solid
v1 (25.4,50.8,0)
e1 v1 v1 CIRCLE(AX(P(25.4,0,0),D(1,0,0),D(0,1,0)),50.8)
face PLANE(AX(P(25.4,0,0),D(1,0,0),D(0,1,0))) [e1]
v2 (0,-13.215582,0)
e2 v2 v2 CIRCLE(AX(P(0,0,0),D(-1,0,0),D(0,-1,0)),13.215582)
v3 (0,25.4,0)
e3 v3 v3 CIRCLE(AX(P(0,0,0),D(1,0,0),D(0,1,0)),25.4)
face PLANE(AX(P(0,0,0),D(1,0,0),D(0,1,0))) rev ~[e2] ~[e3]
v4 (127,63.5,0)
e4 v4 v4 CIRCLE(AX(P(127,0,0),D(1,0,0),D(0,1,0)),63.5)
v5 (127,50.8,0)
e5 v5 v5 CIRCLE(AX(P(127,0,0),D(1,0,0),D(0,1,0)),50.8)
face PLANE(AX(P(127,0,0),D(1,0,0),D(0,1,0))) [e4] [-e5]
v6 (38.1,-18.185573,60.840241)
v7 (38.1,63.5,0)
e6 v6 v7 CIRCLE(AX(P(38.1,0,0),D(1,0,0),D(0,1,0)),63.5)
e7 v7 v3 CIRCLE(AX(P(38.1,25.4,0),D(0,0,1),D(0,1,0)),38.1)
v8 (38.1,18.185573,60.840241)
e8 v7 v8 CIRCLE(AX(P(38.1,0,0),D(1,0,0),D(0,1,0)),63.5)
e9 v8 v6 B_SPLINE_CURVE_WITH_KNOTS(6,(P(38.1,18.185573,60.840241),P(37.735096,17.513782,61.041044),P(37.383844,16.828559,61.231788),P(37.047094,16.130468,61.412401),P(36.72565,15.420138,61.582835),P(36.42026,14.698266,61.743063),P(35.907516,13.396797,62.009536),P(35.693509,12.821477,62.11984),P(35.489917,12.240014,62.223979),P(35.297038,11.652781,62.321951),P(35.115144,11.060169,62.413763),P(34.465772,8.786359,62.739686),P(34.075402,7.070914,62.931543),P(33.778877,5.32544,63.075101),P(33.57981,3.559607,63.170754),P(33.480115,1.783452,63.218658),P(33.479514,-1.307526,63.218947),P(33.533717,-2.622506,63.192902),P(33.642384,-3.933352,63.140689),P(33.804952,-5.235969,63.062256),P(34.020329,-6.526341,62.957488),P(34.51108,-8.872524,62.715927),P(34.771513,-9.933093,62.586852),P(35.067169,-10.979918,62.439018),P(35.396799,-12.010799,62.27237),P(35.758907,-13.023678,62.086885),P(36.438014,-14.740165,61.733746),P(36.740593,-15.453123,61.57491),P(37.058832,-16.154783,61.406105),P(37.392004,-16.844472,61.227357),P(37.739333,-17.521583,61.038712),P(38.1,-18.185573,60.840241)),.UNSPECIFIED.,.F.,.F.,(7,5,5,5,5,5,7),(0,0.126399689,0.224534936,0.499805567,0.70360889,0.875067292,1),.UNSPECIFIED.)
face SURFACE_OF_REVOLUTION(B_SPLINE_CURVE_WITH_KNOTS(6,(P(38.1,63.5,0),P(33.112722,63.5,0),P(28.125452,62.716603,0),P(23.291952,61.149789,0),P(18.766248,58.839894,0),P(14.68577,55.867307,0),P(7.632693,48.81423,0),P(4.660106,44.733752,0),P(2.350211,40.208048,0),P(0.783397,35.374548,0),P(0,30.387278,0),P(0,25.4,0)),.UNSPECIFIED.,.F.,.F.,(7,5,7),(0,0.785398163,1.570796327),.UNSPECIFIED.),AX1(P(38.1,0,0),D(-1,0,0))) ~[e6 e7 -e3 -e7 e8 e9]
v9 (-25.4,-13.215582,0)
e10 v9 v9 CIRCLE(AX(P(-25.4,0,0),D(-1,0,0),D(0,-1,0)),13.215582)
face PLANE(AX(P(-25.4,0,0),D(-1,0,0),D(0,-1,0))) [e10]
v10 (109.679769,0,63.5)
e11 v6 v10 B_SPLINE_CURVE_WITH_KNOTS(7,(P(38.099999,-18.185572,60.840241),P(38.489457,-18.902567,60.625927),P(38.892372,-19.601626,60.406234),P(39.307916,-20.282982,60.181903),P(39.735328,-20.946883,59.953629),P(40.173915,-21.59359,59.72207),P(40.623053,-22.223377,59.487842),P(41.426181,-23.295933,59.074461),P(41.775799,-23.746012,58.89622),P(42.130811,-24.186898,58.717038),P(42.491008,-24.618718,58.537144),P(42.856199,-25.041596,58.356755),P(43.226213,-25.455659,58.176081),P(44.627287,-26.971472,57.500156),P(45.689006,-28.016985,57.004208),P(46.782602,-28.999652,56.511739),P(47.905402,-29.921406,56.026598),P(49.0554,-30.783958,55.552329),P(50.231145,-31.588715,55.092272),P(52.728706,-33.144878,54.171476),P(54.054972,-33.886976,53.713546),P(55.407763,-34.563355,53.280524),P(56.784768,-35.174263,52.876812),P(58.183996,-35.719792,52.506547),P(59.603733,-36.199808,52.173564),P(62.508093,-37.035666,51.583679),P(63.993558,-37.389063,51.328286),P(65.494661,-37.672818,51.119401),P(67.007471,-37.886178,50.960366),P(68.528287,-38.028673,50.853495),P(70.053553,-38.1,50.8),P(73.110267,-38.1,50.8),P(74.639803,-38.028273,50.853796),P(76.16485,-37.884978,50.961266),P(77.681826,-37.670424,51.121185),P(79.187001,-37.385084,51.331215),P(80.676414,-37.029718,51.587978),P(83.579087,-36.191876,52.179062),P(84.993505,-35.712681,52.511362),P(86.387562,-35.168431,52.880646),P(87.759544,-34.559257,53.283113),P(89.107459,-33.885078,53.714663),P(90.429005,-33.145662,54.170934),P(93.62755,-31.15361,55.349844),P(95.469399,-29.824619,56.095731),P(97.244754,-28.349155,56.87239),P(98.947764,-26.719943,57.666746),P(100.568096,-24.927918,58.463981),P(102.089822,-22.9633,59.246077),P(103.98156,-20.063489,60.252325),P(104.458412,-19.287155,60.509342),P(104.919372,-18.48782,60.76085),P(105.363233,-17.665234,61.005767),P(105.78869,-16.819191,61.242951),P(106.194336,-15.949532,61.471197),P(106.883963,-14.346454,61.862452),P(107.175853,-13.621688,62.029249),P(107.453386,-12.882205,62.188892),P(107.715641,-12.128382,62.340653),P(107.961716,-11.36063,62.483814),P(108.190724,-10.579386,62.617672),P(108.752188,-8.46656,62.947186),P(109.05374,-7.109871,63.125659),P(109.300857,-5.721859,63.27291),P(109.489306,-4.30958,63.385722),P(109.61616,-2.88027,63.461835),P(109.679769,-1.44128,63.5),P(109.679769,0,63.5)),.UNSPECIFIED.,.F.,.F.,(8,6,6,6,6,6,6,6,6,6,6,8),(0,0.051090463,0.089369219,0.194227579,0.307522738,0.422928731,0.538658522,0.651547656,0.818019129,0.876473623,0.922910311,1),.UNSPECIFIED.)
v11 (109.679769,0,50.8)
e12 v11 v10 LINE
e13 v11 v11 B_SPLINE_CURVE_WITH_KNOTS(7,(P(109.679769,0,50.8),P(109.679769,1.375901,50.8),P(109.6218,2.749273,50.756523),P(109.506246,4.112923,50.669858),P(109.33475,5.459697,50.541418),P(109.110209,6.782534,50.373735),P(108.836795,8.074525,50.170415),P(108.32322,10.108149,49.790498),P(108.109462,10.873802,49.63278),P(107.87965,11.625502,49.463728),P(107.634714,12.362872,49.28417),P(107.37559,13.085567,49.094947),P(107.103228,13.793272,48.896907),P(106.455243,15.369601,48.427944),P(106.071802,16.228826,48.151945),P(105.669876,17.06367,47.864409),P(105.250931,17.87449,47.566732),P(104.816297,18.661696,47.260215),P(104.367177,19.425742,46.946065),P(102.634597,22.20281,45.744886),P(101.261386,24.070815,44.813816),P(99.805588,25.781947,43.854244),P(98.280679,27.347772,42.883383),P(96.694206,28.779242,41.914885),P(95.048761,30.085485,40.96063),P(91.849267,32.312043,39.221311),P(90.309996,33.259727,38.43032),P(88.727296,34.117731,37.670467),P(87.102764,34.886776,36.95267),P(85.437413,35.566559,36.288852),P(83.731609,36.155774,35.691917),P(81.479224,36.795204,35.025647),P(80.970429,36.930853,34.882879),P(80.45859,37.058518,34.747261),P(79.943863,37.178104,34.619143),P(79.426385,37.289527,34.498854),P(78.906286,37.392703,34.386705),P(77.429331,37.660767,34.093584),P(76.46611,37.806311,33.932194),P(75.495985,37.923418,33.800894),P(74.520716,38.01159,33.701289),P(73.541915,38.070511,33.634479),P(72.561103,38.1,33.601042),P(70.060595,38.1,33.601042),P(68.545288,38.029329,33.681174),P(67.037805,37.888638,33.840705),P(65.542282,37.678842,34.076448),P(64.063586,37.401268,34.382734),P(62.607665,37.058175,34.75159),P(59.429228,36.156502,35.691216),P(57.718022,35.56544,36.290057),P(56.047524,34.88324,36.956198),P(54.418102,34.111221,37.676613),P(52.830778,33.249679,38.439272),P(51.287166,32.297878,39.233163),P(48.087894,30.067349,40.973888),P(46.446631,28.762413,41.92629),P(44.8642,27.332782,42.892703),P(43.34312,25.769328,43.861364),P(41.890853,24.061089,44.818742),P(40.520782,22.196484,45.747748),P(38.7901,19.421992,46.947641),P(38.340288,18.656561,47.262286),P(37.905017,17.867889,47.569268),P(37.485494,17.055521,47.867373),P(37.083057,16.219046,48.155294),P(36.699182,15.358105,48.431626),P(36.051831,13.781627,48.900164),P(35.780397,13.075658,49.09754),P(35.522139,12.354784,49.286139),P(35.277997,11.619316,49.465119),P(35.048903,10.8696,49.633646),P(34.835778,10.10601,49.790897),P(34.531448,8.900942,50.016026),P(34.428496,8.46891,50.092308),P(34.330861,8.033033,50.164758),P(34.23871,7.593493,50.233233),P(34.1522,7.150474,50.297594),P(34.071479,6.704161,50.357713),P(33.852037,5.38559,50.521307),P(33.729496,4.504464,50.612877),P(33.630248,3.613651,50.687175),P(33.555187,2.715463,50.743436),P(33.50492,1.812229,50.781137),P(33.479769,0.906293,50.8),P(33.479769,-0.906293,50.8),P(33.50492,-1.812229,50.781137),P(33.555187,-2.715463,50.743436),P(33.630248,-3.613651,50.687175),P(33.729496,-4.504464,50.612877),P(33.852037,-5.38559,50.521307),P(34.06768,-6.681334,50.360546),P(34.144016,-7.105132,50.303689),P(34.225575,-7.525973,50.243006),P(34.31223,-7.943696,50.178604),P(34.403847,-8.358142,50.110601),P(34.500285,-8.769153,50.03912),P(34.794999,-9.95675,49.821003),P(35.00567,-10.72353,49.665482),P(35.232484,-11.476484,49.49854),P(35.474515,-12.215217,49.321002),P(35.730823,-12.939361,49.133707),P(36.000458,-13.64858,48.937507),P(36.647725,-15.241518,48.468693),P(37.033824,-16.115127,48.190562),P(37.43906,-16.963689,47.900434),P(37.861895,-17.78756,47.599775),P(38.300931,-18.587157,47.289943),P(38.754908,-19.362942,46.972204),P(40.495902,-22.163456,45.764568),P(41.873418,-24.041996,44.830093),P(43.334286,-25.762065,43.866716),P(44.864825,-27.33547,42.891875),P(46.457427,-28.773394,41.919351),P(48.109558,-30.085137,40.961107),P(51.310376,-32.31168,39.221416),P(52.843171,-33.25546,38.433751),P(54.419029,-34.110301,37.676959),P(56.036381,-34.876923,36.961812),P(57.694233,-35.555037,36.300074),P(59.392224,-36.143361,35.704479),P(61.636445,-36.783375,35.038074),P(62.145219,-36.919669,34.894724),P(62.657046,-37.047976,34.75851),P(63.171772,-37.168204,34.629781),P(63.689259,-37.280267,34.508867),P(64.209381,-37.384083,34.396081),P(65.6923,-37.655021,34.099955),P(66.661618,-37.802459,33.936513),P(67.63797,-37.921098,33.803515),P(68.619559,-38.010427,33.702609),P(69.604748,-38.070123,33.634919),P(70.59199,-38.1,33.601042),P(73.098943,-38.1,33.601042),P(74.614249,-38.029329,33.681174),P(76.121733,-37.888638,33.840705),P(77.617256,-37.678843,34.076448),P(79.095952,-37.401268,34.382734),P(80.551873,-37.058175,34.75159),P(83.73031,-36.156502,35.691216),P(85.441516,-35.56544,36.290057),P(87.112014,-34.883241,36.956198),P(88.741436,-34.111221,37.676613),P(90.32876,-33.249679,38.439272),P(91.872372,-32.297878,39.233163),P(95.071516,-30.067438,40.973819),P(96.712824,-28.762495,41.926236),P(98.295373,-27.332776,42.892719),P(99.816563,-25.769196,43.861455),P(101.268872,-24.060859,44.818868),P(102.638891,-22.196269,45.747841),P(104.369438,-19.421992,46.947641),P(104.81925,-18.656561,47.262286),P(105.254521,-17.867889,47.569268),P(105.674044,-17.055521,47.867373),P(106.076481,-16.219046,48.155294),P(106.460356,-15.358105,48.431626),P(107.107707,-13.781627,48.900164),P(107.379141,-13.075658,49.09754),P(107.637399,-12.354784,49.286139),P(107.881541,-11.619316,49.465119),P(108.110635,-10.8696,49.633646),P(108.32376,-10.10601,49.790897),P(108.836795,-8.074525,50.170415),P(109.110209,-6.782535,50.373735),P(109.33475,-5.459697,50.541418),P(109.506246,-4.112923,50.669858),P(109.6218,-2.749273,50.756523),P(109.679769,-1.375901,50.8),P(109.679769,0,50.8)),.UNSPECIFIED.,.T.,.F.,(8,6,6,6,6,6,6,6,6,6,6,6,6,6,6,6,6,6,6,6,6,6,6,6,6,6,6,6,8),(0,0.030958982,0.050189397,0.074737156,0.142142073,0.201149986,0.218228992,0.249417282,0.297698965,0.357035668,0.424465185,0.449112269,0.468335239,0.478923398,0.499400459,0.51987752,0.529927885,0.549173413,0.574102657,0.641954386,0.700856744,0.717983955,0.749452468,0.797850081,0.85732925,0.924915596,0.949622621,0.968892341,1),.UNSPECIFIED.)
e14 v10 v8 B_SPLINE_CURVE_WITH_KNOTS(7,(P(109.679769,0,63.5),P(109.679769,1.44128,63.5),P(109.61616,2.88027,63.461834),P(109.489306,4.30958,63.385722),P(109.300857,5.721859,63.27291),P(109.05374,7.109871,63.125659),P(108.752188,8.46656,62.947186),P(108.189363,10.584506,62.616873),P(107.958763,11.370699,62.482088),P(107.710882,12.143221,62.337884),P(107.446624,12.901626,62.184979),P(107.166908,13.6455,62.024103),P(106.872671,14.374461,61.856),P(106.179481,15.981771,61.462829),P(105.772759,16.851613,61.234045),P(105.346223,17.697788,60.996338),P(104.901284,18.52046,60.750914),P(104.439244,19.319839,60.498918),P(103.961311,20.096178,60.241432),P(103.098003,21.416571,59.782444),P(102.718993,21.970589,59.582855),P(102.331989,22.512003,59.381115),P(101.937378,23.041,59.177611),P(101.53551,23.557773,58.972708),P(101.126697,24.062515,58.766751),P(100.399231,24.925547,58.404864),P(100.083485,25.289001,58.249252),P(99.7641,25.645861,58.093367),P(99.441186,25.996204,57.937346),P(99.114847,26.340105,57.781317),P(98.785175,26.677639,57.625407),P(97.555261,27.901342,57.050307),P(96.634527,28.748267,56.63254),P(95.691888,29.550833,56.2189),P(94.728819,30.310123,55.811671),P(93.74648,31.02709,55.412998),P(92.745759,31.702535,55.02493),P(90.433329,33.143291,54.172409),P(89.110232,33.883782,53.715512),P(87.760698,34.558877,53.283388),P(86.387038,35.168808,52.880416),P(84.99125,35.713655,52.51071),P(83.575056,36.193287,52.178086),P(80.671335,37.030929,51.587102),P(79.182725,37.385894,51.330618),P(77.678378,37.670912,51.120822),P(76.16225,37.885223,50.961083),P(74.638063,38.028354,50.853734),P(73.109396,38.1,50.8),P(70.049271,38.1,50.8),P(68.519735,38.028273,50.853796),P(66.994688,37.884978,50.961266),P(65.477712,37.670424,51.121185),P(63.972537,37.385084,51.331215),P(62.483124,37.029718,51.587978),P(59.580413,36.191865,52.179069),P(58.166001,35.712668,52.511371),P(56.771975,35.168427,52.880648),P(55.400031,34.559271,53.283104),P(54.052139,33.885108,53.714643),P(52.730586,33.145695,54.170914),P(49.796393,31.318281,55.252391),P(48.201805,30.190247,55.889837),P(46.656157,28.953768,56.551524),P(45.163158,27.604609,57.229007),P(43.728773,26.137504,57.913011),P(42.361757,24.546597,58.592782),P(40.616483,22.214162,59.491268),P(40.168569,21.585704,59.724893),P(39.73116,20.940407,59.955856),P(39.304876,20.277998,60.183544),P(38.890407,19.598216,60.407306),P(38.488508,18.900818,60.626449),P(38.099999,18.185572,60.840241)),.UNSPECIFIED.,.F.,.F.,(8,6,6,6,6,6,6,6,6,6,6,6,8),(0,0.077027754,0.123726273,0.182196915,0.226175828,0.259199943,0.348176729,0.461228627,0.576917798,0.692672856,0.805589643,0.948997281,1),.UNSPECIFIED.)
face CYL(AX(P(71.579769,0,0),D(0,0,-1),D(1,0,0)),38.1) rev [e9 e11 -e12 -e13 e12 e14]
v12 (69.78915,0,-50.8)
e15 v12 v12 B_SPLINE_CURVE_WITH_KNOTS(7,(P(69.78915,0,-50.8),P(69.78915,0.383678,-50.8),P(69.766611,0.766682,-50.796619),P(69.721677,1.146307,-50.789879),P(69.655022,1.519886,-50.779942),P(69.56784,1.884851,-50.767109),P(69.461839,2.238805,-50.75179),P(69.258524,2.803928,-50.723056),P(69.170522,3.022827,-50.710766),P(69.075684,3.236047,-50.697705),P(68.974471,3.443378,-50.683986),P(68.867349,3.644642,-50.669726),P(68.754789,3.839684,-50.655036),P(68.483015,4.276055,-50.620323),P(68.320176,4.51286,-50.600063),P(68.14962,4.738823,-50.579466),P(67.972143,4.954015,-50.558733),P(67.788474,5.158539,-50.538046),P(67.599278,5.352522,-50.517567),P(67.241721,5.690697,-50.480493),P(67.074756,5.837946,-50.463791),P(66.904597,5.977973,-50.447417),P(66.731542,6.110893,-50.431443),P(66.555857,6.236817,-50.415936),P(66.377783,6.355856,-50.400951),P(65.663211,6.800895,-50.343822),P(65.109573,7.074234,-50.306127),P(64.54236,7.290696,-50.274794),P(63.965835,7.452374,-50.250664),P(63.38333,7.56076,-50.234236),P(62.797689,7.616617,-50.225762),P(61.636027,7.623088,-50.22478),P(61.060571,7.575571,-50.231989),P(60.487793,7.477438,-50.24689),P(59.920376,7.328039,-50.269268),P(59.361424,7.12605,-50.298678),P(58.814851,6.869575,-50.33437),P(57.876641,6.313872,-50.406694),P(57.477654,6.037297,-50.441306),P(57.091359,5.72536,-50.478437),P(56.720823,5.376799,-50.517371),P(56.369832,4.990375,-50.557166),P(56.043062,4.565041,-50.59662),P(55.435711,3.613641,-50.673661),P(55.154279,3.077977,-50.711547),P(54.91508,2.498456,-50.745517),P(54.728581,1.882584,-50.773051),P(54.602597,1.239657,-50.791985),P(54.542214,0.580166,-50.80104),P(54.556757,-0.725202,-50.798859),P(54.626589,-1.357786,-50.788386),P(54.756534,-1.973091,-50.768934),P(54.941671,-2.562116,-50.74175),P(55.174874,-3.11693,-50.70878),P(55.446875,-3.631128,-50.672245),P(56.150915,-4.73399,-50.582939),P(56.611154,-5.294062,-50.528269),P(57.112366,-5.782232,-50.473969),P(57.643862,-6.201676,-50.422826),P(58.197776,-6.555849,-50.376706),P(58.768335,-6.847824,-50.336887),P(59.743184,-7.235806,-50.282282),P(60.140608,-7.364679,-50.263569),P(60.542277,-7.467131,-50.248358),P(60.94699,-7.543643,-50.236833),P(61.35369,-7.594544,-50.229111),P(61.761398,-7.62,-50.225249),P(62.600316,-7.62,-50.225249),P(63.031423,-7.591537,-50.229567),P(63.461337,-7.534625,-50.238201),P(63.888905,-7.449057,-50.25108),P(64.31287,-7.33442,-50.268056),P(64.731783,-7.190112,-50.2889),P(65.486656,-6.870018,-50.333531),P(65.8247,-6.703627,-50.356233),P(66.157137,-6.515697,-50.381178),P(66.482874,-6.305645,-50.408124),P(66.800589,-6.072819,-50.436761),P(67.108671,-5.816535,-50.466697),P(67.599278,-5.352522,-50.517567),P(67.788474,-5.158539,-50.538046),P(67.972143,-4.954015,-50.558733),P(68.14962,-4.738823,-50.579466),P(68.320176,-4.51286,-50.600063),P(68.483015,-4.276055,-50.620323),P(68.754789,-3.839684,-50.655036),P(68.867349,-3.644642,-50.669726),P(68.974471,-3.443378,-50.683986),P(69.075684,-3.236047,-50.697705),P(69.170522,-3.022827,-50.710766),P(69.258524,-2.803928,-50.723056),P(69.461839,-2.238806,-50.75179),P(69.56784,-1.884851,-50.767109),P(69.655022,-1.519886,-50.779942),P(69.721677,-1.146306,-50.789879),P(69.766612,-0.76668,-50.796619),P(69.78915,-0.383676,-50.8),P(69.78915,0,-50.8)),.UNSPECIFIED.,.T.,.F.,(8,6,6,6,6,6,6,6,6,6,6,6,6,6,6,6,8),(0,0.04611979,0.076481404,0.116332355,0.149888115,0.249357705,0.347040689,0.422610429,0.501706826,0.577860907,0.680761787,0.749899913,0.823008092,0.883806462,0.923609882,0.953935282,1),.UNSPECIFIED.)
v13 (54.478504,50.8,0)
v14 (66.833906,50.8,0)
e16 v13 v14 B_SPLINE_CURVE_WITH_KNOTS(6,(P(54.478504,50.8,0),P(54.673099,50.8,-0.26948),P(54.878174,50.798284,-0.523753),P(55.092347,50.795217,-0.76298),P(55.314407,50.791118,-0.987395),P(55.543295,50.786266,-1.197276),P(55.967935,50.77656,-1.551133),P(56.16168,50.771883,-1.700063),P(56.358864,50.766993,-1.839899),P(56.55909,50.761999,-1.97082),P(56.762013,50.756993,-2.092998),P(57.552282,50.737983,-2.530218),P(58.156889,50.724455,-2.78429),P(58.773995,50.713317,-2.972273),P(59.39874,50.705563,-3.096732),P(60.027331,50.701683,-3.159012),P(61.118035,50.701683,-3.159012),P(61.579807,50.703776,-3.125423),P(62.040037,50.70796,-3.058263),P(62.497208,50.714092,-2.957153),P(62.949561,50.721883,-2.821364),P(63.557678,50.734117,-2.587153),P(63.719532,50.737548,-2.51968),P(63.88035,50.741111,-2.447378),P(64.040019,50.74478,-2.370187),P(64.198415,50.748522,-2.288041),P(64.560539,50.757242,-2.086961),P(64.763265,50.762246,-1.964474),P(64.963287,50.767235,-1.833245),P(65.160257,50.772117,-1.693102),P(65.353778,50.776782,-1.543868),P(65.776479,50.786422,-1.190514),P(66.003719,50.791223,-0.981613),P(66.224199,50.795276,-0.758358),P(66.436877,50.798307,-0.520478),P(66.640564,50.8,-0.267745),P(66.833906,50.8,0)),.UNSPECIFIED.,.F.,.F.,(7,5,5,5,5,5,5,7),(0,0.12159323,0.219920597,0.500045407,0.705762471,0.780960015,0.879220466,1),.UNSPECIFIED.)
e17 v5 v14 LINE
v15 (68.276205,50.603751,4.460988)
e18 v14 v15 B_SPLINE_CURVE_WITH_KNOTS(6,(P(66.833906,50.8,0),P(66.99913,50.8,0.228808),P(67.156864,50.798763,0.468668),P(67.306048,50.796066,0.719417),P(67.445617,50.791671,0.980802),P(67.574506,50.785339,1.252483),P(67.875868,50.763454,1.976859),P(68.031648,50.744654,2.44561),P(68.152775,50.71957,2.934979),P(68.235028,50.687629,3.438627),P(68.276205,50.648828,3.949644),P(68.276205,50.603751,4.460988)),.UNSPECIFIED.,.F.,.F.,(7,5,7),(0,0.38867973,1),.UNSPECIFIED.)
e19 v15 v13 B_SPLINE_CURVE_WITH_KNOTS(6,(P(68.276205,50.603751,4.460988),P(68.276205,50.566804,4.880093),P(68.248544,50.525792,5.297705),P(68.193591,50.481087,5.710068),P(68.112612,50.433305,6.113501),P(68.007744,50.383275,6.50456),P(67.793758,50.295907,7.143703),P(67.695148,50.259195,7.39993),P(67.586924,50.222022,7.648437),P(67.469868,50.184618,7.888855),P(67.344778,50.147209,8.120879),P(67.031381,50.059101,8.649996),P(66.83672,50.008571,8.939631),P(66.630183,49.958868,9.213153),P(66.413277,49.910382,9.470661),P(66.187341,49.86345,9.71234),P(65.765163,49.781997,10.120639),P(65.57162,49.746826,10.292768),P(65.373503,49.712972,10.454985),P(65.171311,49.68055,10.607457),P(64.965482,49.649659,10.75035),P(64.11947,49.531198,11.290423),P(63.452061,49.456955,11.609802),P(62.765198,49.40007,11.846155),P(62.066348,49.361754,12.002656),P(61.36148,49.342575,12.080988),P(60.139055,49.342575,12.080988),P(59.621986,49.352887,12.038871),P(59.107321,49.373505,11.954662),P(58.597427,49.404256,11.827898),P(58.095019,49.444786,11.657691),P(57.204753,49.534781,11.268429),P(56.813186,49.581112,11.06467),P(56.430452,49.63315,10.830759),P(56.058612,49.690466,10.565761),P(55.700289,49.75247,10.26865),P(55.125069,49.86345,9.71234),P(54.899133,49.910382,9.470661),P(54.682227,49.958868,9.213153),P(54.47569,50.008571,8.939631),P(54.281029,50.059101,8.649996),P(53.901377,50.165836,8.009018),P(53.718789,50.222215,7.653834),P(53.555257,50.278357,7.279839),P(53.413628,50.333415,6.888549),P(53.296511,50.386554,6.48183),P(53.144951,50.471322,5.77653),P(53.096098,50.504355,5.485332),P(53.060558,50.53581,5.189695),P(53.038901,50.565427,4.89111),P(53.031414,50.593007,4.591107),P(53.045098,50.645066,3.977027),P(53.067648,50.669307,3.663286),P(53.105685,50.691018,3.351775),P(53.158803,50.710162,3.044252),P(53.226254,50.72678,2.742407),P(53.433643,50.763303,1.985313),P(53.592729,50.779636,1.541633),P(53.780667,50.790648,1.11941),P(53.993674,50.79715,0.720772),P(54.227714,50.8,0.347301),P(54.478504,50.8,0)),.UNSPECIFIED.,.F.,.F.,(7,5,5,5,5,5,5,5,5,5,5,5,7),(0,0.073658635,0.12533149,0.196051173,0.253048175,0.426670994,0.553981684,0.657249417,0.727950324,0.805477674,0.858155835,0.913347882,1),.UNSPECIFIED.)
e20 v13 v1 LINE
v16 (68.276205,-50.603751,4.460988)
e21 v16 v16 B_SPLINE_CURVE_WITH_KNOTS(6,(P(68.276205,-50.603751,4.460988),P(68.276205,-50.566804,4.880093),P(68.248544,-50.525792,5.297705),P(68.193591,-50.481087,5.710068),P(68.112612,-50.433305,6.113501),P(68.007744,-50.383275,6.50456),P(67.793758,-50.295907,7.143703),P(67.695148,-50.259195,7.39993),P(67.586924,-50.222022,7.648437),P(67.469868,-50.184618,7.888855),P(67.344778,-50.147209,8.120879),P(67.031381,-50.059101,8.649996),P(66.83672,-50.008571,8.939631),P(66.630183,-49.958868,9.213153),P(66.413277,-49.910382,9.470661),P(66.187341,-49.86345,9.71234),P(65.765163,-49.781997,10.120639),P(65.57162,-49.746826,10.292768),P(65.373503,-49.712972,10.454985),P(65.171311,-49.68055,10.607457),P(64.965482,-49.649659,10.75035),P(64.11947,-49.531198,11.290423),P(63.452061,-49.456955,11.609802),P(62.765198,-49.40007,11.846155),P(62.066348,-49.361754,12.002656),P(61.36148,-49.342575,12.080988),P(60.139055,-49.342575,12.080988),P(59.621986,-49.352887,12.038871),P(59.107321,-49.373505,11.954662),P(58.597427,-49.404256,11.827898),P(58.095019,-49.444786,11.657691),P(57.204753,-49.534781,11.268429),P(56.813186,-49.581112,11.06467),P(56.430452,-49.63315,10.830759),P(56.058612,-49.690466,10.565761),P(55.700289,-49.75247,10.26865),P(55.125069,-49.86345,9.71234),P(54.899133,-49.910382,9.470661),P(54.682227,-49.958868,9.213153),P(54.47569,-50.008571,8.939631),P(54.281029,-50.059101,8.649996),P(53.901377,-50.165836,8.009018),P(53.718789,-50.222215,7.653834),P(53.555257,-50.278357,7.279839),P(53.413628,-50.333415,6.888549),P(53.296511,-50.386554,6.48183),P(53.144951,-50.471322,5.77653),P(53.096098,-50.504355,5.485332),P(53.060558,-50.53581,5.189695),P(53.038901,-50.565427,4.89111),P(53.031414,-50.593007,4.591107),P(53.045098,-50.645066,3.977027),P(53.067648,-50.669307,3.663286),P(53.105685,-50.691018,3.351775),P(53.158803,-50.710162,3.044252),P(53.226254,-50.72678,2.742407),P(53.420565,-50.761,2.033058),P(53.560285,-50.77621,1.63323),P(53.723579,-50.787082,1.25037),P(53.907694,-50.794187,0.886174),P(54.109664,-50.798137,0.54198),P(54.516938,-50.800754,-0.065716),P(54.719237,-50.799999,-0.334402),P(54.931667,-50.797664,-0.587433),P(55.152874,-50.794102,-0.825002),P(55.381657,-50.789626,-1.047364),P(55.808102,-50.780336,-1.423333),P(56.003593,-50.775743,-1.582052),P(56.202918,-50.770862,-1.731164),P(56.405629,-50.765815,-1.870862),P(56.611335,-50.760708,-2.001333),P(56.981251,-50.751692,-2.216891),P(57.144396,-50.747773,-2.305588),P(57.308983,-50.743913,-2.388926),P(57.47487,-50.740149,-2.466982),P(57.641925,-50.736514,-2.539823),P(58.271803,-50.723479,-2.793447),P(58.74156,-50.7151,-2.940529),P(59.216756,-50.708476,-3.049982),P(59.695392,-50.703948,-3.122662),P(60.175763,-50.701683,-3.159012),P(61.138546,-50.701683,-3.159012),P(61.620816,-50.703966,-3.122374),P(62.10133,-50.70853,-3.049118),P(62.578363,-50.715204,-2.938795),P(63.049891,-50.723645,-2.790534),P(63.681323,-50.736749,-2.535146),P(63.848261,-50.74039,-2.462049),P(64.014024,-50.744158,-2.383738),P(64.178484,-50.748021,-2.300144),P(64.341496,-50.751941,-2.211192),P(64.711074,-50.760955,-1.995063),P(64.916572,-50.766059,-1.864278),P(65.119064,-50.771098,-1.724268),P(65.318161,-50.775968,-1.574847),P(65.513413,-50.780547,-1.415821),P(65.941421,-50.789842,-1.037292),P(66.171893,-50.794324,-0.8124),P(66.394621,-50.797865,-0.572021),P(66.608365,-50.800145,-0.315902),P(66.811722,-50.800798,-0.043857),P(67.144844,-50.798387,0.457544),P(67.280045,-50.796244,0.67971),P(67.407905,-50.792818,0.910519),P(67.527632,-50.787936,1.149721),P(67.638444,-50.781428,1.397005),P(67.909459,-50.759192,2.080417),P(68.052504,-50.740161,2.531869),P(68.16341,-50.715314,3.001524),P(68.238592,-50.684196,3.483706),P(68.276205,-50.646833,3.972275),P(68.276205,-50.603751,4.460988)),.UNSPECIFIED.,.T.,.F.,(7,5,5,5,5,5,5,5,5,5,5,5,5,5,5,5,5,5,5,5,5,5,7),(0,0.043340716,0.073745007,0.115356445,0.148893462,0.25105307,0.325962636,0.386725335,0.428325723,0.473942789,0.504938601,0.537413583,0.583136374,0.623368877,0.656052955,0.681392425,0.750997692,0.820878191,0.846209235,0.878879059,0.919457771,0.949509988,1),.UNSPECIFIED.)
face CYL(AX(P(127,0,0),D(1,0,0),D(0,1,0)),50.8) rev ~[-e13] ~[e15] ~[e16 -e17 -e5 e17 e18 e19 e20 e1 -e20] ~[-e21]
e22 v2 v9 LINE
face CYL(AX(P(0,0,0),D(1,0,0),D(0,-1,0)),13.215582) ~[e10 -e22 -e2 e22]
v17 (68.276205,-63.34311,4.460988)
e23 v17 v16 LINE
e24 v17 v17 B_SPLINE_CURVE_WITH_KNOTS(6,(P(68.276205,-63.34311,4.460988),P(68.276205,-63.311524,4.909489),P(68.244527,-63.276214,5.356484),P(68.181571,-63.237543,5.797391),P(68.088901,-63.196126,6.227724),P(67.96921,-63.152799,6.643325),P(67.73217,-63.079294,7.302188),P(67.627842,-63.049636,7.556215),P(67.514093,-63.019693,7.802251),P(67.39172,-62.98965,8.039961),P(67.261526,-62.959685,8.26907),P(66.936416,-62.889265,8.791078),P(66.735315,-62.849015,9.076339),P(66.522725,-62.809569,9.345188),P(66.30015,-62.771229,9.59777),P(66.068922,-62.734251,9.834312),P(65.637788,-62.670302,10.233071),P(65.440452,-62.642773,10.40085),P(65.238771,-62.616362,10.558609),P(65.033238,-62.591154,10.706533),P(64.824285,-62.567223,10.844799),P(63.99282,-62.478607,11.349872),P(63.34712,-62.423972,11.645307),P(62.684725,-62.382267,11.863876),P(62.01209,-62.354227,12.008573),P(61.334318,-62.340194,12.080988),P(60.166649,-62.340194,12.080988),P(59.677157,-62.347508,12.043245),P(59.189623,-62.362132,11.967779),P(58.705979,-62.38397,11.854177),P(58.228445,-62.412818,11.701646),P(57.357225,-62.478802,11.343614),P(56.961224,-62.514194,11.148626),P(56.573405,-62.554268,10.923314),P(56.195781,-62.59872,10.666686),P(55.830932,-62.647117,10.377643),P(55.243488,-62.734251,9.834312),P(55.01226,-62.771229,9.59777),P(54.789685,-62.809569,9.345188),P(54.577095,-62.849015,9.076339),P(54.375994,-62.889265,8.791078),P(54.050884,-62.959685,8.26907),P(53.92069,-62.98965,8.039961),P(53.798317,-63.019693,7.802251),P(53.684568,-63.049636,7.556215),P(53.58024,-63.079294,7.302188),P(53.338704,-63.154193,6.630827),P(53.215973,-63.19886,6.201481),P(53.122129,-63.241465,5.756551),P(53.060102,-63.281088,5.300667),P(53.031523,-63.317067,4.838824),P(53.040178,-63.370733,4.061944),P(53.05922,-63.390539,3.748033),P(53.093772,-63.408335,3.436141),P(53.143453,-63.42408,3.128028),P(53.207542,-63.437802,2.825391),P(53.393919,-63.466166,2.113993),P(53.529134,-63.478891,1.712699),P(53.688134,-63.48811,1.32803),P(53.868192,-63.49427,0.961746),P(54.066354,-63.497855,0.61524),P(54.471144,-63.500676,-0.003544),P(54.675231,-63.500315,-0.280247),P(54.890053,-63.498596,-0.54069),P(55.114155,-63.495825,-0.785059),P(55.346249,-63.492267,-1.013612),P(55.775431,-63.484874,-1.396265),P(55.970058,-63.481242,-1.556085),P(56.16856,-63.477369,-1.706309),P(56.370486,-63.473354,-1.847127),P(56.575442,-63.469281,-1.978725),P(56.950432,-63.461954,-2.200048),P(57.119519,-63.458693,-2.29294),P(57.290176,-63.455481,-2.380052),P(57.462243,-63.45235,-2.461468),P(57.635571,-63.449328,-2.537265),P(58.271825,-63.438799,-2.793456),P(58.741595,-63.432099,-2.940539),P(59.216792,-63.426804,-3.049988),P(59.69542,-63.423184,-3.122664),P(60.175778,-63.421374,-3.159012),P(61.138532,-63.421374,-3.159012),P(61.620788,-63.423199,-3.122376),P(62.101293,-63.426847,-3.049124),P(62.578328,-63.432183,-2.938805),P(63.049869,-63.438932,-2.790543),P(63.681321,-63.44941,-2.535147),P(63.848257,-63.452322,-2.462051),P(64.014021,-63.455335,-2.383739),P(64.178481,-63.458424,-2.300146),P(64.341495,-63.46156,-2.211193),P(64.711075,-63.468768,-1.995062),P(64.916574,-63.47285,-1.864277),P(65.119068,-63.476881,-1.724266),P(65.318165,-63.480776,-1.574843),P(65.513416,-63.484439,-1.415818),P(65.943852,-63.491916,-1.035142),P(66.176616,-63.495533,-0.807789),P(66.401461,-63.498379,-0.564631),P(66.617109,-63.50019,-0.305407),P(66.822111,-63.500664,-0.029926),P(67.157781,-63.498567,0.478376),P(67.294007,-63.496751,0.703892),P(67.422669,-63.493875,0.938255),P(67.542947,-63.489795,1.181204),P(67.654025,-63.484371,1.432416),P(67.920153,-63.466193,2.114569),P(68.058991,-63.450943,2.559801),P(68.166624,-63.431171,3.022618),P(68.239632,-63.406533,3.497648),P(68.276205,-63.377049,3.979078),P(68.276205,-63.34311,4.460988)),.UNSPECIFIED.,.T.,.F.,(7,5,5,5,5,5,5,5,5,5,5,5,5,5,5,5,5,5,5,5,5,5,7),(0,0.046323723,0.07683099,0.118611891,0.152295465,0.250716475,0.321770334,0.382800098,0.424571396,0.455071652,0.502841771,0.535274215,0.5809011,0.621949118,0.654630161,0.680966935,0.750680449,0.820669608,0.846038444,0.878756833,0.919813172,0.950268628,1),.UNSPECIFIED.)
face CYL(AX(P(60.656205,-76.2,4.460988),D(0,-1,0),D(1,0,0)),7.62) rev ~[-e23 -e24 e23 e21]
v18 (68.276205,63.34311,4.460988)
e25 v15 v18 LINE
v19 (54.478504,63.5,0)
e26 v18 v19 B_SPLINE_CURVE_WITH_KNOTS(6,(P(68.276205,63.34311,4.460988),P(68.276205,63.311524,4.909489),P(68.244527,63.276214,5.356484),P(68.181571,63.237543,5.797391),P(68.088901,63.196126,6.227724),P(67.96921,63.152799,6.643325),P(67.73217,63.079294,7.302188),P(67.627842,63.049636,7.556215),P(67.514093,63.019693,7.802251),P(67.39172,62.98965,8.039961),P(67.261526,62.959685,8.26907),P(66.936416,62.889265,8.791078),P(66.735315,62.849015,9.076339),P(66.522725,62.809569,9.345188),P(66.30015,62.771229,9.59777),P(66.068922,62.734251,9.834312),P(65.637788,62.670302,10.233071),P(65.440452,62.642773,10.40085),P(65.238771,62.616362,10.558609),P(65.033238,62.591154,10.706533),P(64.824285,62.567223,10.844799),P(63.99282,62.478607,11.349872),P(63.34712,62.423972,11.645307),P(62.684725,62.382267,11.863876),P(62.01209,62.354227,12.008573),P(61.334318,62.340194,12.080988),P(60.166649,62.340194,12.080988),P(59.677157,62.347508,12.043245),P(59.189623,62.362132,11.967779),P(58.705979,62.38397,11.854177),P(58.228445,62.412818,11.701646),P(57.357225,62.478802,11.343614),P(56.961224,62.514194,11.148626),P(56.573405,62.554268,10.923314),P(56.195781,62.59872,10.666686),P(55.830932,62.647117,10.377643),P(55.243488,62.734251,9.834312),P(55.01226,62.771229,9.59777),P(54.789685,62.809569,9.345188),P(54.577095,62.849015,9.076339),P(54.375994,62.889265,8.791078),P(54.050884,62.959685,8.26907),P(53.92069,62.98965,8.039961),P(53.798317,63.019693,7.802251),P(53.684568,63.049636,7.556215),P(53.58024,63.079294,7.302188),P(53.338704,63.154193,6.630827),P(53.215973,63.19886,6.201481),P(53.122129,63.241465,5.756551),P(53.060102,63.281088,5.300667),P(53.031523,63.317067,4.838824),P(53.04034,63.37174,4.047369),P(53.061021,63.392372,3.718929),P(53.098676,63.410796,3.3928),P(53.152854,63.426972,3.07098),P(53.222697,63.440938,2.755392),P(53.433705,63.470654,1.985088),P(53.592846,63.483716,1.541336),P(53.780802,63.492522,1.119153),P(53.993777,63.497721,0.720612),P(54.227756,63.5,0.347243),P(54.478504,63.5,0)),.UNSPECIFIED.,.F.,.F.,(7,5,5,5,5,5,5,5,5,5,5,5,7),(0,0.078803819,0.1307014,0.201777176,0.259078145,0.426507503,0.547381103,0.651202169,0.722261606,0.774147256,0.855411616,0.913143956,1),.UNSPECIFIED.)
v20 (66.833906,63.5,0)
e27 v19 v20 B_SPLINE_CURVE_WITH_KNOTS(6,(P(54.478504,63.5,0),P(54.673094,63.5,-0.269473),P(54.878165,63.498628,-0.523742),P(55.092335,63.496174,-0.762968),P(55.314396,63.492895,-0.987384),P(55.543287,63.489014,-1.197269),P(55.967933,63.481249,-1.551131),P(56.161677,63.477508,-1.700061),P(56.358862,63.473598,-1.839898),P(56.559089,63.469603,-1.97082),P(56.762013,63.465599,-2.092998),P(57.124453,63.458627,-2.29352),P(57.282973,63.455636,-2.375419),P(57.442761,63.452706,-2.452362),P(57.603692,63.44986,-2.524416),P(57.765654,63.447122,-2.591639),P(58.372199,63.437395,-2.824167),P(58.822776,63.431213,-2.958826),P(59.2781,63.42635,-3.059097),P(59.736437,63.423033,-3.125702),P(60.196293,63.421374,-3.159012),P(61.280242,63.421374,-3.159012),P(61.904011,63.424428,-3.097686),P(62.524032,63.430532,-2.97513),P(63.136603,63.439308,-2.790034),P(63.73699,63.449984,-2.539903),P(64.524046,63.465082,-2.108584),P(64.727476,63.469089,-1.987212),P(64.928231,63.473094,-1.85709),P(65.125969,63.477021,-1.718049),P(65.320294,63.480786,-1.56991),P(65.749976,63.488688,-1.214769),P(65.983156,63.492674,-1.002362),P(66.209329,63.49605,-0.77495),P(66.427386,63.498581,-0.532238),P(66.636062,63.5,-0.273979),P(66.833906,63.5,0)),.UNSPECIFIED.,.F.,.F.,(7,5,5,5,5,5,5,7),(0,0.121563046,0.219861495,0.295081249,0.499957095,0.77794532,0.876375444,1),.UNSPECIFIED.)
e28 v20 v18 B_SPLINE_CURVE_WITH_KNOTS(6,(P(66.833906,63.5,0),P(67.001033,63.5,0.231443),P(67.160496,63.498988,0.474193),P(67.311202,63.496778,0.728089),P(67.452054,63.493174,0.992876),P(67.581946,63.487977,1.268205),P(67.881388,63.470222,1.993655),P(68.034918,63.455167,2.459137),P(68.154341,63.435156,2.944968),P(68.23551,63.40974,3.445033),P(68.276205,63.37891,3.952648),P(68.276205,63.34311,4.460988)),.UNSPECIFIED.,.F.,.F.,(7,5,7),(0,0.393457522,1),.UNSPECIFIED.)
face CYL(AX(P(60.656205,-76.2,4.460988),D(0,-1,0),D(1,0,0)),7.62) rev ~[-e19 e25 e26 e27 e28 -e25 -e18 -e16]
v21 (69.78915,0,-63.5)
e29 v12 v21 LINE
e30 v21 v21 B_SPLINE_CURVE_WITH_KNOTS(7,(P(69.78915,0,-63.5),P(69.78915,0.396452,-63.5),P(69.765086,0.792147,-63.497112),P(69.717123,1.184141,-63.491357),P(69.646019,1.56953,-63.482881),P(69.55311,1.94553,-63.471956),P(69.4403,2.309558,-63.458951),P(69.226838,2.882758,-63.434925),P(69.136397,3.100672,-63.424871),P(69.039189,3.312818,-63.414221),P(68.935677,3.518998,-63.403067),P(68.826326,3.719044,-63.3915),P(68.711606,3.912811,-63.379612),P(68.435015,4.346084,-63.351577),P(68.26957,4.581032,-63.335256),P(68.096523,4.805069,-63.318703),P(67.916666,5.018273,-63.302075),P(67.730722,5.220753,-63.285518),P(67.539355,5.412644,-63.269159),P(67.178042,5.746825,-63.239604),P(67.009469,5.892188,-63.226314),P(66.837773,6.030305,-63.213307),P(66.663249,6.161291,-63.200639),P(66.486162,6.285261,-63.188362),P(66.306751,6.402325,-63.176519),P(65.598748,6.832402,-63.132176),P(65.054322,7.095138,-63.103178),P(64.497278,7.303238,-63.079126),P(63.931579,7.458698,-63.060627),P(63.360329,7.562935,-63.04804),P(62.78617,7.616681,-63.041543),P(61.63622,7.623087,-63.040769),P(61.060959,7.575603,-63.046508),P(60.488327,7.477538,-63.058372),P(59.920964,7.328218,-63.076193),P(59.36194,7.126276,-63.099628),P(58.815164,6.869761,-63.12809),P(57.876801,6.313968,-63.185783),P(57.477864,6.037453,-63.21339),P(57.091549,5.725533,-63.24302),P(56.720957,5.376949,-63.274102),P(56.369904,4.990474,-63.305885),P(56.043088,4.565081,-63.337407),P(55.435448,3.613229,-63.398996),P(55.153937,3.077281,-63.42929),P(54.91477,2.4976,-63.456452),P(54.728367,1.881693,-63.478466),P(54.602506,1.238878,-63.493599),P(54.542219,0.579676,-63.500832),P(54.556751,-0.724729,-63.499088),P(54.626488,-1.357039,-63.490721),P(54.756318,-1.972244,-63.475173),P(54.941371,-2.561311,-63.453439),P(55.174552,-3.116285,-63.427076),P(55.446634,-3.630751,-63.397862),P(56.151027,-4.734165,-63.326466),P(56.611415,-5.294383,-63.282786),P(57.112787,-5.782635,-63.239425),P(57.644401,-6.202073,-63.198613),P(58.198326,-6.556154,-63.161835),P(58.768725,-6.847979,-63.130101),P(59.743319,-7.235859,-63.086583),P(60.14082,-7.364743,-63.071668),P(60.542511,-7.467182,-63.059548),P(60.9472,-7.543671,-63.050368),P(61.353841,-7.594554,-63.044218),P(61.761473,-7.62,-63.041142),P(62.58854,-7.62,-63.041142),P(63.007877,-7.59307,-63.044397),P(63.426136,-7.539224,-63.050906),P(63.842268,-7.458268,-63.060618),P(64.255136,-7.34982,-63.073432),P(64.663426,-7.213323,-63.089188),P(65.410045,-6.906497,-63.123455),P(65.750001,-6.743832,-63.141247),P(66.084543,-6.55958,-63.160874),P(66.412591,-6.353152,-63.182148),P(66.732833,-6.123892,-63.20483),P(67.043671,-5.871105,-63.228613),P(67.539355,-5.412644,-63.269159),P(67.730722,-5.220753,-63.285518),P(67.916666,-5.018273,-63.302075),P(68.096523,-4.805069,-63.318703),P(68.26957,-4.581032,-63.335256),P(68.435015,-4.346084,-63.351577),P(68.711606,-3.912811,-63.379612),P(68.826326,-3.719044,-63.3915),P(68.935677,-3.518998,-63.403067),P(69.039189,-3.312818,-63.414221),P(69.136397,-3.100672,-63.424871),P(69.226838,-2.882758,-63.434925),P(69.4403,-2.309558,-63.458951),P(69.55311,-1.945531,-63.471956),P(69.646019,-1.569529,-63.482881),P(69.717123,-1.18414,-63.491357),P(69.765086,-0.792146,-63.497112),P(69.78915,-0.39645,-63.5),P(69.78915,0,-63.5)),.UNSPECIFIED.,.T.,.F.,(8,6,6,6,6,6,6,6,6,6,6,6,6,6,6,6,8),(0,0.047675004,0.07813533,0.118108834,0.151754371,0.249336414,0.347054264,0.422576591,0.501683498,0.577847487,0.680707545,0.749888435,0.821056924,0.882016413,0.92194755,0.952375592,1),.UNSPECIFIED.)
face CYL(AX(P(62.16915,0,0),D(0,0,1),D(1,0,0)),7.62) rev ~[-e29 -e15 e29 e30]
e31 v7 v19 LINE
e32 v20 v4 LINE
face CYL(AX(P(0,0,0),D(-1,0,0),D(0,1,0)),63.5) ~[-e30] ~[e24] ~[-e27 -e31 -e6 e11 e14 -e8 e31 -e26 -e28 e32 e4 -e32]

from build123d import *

# Parameters (mm, degrees)
F0_R      = 63.5
F1_DEPTH  = 127
F2_R      = 50.8
F3_DEPTH  = 101.6
F4_R      = 38.1
F6_R      = 7.62
F7_DEPTH  = 152.4
F8_R      = 7.62
F9_DEPTH  = 381
F10_R     = 38.1
F11_DEPTH = 381
F12_R     = 13.215582
F13_DEPTH = 25.4


with BuildPart() as f1:
    # F0 (on Right) → F1 (new body)
    with BuildSketch(Plane.YZ):
        Circle(F0_R)
    extrude(amount=F1_DEPTH)

    # F2 (on face) → F3 (cut)
    with BuildSketch(Plane.YZ.offset(127)):
        Circle(F2_R)
    extrude(amount=-F3_DEPTH, mode=Mode.SUBTRACT)

    # F4
    f4_edges = [f1.edges().sort_by_distance(p)[0] for p in [
        (0, -63.5, 0),
    ]]
    fillet(f4_edges, radius=F4_R)

    # F6 (on offset) → F7 (cut)
    with BuildSketch(Plane.XZ.offset(76.2)):
        with Locations((60.656205, 4.460988)):
            Circle(F6_R)
    extrude(amount=-F7_DEPTH, mode=Mode.SUBTRACT)

    # F8 (on Top) → F9 (cut)
    with BuildSketch(Plane.XY):
        with Locations((62.16915, 0)):
            Circle(F8_R)
    extrude(amount=-F9_DEPTH, mode=Mode.SUBTRACT)

    # F10 (on Top) → F11 (cut)
    with BuildSketch(Plane.XY):
        with Locations((71.579769, 0)):
            Circle(F10_R)
    extrude(amount=F11_DEPTH, mode=Mode.SUBTRACT)

    # F12 (on face) → F13 (join)
    with BuildSketch(Plane(origin=(0, 0, 0), x_dir=(0, -1, 0), z_dir=(-1, 0, 0))):
        Circle(F12_R)
    extrude(amount=F13_DEPTH)


solid = f1.part
